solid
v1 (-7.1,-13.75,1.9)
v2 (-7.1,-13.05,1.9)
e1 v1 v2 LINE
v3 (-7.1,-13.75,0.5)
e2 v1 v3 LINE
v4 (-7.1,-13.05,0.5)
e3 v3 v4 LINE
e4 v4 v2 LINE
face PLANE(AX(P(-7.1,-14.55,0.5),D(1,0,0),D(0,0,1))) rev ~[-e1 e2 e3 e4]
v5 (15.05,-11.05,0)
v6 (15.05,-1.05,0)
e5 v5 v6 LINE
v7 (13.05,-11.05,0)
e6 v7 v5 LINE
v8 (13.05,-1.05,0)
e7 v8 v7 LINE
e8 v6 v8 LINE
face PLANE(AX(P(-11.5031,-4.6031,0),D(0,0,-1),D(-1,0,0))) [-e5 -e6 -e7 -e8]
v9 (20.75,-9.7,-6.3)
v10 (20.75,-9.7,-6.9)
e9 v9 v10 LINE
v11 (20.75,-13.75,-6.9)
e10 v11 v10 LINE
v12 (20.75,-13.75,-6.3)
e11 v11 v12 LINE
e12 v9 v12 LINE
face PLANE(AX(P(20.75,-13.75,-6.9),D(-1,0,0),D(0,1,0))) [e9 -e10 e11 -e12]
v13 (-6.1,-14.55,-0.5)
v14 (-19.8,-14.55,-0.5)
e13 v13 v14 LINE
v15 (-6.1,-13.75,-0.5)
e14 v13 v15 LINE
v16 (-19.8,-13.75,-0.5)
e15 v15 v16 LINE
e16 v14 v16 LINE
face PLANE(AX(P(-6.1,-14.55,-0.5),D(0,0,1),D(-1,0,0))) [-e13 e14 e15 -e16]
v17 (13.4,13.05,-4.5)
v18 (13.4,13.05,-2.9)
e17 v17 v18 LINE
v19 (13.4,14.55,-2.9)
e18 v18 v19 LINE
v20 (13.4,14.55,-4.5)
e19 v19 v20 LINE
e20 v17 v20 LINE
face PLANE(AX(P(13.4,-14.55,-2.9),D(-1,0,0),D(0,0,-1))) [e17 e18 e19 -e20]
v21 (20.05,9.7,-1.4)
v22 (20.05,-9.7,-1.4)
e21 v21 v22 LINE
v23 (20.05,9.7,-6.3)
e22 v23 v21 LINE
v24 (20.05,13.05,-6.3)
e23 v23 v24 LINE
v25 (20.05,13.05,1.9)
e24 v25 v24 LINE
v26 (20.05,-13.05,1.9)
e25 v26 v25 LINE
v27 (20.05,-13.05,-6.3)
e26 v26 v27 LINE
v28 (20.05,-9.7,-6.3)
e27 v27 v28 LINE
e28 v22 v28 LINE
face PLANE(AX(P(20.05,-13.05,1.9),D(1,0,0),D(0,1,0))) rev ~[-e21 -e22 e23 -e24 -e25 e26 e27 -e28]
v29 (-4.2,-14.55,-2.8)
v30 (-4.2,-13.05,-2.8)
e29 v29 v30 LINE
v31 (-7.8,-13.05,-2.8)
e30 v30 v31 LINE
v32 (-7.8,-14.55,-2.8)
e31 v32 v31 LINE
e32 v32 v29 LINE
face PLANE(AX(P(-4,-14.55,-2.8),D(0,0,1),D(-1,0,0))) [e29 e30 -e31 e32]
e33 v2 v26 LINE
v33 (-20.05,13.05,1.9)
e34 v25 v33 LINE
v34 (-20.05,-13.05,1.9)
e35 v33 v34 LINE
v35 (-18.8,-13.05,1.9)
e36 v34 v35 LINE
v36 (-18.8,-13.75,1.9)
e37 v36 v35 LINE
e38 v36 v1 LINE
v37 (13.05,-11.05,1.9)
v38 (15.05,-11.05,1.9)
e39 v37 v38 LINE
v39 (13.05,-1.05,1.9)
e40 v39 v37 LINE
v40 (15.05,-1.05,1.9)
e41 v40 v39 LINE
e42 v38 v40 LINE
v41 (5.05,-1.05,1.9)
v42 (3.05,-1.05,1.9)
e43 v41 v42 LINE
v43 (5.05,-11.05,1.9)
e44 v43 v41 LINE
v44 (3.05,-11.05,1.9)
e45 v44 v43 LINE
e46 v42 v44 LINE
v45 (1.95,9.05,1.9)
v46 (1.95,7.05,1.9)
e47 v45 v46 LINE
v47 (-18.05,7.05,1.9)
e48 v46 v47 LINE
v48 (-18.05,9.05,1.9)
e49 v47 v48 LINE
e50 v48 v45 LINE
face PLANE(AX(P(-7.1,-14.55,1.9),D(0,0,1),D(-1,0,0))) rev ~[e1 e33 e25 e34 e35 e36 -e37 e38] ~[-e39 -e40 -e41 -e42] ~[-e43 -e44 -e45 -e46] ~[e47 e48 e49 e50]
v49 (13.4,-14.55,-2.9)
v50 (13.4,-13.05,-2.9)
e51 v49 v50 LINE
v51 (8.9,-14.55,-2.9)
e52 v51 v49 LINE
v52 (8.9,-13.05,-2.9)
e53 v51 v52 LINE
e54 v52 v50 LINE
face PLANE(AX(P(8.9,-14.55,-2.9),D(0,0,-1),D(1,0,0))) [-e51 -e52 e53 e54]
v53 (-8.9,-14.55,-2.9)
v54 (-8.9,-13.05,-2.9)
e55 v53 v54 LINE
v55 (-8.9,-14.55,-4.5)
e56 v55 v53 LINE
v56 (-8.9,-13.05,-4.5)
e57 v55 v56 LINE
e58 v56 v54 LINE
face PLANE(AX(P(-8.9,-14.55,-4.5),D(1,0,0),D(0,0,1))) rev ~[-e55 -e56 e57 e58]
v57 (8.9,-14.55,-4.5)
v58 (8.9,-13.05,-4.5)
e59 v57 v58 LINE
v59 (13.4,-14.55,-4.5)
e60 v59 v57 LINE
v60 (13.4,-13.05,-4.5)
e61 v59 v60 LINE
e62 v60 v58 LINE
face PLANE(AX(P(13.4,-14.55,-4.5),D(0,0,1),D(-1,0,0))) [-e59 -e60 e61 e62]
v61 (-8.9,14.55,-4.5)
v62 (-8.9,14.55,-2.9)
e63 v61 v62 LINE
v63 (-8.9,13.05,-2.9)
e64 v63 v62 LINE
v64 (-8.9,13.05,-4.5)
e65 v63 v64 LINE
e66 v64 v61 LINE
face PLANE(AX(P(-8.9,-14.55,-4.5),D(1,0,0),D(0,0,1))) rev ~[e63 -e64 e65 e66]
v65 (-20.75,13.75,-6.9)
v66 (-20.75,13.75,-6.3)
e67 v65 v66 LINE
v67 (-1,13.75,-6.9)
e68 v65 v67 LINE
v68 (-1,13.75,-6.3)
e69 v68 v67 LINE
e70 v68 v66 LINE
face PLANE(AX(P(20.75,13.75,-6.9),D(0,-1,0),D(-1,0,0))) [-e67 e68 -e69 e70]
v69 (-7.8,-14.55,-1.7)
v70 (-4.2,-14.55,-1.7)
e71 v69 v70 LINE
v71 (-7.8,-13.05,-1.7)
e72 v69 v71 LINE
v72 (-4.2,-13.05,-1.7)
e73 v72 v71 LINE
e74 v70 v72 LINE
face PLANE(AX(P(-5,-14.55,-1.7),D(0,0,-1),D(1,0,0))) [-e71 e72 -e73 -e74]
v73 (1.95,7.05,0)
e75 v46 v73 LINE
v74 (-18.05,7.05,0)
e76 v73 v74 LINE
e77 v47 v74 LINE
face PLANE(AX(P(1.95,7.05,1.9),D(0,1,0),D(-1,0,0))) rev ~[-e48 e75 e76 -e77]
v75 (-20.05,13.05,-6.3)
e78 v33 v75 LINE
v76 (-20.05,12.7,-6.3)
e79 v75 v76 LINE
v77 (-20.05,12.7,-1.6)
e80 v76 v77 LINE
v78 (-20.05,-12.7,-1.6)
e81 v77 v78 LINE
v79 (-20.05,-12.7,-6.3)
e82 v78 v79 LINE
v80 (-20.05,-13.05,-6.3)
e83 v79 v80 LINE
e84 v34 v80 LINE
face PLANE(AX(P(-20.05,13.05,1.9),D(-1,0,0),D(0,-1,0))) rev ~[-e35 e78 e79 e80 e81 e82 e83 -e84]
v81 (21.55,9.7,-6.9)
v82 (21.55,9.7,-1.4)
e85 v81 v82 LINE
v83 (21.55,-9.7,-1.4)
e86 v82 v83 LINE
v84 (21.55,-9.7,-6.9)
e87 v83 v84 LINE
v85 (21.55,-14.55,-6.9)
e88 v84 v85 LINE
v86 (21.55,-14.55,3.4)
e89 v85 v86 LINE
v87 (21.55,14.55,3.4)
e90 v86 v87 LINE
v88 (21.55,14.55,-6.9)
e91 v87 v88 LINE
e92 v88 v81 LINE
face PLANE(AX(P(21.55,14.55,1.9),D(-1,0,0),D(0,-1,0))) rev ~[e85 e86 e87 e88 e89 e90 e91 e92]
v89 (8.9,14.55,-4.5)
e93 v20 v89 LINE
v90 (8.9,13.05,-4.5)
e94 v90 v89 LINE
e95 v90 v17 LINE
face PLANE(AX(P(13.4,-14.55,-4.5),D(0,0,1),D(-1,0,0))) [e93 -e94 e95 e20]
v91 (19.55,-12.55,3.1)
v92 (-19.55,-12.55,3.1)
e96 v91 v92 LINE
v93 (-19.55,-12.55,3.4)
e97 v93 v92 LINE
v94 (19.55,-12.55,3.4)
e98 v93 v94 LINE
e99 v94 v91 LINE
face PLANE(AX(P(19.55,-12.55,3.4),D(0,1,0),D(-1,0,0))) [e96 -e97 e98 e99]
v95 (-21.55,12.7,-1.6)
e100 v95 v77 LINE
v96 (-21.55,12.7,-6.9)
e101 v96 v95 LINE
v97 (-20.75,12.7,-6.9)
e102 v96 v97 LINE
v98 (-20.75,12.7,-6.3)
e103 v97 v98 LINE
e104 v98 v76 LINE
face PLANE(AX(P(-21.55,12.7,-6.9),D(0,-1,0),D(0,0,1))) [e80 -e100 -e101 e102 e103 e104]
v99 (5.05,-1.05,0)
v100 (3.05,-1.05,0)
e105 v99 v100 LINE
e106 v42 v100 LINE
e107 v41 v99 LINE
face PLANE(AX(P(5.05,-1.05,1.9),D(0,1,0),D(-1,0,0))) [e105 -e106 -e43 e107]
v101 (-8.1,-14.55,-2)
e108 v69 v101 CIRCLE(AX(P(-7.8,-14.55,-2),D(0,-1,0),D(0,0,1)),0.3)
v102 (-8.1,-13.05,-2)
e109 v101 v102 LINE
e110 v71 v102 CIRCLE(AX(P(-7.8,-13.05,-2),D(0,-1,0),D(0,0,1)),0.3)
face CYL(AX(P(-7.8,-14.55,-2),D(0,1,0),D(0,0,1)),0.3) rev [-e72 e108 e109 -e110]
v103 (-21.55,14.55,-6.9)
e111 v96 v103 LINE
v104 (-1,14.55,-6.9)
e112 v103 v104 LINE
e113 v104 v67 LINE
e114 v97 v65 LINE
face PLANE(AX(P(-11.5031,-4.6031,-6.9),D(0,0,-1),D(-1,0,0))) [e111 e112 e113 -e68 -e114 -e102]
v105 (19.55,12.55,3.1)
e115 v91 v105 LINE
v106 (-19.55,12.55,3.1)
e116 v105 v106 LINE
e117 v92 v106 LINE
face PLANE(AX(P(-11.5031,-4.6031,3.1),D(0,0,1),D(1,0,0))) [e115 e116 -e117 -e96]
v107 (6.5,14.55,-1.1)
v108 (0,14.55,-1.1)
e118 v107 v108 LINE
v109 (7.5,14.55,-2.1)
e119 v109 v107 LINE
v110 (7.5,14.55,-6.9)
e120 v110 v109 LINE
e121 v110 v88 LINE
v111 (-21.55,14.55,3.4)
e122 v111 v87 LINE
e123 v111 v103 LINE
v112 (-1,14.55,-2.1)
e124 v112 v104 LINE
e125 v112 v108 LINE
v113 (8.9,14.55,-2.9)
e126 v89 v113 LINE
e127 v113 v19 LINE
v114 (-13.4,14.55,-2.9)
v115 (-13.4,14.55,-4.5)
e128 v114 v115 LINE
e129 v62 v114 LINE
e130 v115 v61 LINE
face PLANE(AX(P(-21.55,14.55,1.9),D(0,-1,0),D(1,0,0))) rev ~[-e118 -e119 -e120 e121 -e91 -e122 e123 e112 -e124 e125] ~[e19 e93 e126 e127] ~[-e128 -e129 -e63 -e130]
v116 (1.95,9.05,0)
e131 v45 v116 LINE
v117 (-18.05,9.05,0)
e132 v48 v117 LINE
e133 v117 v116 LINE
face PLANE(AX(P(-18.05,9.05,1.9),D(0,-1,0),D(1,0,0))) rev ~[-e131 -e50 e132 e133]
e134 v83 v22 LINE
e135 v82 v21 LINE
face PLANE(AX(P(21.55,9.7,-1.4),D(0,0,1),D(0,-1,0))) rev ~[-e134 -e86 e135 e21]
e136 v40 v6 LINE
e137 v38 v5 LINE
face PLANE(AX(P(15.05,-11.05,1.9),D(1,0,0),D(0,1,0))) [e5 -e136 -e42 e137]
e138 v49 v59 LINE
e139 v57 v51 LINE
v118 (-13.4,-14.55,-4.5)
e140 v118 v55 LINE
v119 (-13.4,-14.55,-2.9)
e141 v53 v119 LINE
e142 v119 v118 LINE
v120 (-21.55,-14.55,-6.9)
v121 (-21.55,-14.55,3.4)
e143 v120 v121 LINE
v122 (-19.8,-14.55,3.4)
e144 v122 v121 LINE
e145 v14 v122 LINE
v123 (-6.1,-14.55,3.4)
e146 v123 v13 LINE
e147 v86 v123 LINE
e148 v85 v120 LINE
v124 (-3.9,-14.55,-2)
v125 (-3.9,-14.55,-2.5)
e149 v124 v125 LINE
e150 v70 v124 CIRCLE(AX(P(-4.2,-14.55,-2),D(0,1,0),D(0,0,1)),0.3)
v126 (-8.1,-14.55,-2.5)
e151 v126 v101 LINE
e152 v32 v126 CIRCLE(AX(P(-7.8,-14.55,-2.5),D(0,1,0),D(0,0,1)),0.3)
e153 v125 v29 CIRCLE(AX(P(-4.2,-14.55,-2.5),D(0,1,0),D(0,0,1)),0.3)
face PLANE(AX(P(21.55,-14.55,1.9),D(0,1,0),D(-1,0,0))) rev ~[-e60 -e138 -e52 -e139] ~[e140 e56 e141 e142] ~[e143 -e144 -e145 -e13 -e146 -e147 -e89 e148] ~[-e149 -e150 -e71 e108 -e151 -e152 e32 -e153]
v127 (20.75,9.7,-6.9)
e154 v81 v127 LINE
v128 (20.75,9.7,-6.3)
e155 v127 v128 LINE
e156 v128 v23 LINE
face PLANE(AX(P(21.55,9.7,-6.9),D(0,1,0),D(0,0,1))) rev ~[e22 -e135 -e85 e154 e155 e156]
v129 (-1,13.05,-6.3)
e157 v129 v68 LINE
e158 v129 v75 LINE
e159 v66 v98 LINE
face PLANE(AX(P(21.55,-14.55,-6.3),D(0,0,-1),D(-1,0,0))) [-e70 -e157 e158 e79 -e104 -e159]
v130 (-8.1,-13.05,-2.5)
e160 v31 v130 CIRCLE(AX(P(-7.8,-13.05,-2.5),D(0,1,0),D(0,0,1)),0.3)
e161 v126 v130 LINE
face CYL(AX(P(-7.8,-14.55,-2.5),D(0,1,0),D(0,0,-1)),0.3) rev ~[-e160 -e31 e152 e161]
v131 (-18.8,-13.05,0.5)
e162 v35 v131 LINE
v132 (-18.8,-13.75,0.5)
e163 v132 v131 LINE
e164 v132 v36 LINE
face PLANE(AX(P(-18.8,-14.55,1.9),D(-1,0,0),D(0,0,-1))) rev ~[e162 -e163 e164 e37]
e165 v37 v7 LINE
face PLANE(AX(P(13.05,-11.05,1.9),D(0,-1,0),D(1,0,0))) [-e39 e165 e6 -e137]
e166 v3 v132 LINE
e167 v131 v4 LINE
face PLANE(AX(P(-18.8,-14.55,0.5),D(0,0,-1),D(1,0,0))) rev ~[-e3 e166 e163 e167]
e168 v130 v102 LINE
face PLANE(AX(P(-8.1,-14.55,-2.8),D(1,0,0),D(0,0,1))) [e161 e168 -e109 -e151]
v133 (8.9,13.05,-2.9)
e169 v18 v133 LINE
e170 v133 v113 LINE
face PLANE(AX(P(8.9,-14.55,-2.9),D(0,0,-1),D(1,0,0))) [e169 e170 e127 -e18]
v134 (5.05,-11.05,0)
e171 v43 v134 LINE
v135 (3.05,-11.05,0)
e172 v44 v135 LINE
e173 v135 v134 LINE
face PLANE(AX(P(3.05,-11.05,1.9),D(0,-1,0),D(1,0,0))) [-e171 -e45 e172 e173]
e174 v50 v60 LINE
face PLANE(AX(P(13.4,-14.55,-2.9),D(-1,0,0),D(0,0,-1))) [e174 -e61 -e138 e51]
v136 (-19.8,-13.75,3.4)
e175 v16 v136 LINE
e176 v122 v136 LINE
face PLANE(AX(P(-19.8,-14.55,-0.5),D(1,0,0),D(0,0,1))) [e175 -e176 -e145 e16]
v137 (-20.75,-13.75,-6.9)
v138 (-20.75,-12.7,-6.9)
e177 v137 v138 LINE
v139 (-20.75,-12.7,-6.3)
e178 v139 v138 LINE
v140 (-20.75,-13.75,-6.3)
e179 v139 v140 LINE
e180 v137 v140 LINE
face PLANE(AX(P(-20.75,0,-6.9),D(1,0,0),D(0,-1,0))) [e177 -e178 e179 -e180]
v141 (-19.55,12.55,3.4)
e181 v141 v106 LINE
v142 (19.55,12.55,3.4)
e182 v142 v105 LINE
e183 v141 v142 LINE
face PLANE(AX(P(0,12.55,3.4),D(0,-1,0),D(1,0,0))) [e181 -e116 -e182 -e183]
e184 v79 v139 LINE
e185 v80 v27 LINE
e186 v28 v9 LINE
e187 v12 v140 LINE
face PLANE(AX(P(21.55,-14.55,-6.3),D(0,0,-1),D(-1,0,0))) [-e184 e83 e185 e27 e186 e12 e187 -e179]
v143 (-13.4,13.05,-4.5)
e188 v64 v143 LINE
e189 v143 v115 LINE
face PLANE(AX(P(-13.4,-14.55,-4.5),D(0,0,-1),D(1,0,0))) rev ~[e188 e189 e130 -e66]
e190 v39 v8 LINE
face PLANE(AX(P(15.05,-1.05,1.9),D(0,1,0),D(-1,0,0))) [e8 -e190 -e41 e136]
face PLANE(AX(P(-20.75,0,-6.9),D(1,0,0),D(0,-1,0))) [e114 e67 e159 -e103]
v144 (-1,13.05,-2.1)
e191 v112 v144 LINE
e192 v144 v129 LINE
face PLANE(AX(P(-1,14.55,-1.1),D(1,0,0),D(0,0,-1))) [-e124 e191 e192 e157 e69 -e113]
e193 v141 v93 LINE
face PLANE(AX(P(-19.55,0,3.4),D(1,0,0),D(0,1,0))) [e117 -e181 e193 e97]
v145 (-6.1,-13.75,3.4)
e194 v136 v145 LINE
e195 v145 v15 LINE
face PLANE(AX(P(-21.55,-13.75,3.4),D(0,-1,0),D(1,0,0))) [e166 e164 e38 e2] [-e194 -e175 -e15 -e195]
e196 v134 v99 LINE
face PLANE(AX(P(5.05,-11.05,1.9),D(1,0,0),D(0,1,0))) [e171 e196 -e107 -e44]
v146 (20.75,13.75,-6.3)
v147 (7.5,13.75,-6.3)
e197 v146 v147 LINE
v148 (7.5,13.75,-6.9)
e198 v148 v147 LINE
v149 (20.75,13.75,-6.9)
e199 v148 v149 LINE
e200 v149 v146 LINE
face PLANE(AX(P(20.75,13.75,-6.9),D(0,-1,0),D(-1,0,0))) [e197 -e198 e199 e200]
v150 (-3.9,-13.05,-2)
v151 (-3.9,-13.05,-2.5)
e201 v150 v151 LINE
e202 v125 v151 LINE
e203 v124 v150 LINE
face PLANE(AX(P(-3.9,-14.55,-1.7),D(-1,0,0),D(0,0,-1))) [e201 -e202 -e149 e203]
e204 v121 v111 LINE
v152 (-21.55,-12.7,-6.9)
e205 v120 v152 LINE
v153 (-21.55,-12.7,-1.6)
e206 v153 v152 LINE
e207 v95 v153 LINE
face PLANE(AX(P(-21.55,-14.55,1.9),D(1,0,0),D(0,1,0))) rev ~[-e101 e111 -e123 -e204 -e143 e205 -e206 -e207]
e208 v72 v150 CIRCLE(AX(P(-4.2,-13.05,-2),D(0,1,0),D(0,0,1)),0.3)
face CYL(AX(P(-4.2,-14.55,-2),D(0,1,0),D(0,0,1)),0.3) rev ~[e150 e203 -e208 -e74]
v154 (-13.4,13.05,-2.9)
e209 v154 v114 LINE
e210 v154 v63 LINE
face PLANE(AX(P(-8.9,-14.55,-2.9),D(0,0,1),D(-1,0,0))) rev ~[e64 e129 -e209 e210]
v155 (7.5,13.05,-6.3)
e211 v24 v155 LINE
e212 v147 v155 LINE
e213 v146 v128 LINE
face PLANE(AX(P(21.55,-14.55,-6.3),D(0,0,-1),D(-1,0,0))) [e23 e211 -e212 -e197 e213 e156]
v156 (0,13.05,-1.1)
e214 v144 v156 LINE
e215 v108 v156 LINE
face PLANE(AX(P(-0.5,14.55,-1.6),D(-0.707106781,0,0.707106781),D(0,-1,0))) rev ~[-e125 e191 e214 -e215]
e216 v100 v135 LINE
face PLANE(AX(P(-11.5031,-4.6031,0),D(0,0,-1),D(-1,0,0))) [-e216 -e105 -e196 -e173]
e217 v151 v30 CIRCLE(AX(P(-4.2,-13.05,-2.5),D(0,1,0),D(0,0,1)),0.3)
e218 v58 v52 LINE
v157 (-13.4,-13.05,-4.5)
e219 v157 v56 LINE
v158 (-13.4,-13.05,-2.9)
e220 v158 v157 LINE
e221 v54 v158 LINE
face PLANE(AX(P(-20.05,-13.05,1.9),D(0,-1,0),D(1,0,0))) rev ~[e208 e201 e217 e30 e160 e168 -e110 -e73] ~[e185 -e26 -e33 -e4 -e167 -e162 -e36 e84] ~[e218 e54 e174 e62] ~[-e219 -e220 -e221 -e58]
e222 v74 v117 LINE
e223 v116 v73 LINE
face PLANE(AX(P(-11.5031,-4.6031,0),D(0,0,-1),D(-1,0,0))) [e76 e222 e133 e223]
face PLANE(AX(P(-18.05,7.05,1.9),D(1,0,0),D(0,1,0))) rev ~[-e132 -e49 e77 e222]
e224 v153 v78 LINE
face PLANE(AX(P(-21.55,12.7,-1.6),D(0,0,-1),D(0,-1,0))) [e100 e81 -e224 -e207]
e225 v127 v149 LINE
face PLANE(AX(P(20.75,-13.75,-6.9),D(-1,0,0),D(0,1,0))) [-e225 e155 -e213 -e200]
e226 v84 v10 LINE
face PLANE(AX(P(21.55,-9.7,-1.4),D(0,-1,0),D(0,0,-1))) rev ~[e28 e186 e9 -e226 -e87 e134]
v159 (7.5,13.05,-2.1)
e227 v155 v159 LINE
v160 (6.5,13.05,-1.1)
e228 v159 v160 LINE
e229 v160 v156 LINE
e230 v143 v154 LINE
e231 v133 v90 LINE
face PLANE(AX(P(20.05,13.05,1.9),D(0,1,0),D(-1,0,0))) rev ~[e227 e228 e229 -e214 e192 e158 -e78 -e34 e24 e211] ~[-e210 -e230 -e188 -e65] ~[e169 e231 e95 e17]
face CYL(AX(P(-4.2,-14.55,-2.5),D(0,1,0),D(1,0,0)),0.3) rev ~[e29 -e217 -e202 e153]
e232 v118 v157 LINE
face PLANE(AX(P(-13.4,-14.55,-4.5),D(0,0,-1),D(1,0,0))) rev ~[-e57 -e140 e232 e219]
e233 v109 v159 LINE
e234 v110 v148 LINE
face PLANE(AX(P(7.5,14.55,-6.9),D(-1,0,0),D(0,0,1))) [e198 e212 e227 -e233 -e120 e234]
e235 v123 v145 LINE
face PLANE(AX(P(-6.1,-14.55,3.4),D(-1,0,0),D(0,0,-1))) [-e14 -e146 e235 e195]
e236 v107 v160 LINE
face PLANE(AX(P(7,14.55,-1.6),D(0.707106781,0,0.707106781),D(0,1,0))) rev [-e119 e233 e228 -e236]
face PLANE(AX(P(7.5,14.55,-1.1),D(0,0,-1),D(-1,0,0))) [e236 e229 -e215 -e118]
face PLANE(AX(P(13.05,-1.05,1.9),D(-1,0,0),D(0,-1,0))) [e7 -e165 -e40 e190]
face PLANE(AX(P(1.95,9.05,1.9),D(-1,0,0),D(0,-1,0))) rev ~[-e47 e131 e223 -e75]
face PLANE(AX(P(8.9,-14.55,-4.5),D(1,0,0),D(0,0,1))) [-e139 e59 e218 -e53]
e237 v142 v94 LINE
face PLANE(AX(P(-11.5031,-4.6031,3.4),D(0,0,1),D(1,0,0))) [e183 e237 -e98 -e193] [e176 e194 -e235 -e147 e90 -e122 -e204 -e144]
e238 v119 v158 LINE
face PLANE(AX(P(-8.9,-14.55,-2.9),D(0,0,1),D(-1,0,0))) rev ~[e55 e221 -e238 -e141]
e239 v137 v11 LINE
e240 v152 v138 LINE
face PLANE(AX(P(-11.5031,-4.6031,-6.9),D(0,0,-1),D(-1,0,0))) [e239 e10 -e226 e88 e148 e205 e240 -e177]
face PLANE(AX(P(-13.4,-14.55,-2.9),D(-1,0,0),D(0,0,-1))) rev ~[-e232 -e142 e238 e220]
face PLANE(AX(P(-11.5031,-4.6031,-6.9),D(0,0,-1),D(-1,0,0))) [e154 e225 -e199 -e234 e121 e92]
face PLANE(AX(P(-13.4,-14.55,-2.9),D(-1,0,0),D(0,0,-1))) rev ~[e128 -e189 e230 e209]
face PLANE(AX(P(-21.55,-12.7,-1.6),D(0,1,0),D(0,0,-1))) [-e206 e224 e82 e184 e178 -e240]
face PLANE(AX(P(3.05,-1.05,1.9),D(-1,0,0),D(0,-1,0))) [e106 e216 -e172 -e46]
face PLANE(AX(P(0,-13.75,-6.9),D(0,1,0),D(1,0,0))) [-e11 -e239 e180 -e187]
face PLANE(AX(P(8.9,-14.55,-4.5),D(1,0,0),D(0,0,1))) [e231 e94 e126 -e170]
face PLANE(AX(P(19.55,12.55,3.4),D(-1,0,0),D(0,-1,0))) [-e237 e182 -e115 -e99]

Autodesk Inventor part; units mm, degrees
ref_plane "YZ Plane" through (0, 0, 0) normal (1, 0, 0) x (0, 1, 0)
ref_plane "XZ Plane" through (0, 0, 0) normal (0, 1, 0) x (-1, 0, 0)
ref_plane "EbeneBoden" through (-11.5031, -4.6031, 1.9) normal (0, 0, 1) x (1, 0, 0)
ref_plane "EbeneWändeEnde" through (17.7, 4.9, -6.9) normal (0, 0, -1) x (-1, 0, 0)
sketch "SkizzeBoden" plane through (-11.5031, -4.6031, 1.9) normal (0, 0, 1) x (1, 0, 0)
  line L0 (-7.1969, 7.4031) -> (6.8031, 7.4031) projected
  line L1 (6.8031, 7.4031) -> (6.8031, -7.7969) projected
  line L2 (6.8031, -7.7969) -> (4.3031, -7.7969) projected
  line L3 (4.3031, -7.7969) -> (4.3031, -6.7969) projected
  line L4 (4.3031, -6.7969) -> (-7.1969, -6.7969) projected
  line L5 (-7.1969, -6.7969) -> (-7.1969, 7.4031) projected
  line L6 (31.5031, 17.6031) -> (-8.4969, 17.6031) projected
  line L7 (-8.4969, 17.6031) -> (-8.4969, -8.3969) projected
  line L8 (-8.4969, -8.3969) -> (31.5031, -8.3969) projected
  line L9 (31.5031, -8.3969) -> (31.5031, 17.6031) projected
  line L10 (-18.6669, 4.6031) -> (41.6731, 4.6031) projected
  line L11 (11.5031, -15.7669) -> (11.5031, 24.9731) projected
  line L12 (-10.0469, 19.1531) -> (33.0531, 19.1531)
  line L13 (33.0531, 19.1531) -> (33.0531, -9.9469)
  line L14 (33.0531, -9.9469) -> (-10.0469, -9.9469)
  line L15 (-10.0469, -9.9469) -> (-10.0469, 19.1531)
  point P0 (11.5031, 4.6031)
  dimension "d0" = 1.55
extrude "Boden" add sketch "SkizzeBoden" along normal blind 1.5
sketch "SkizzeWände" plane through (-11.5031, -4.6031, 1.9) normal (0, 0, -1) x (-1, 0, 0)
  line L0 (10.0469, 19.1531) -> (-33.0531, 19.1531) projected
  line L1 (-33.0531, 19.1531) -> (-33.0531, -9.9469) projected
  line L2 (-33.0531, -9.9469) -> (10.0469, -9.9469) projected
  line L3 (10.0469, -9.9469) -> (10.0469, 19.1531) projected
  line L4 (-31.5531, 17.6531) -> (8.5469, 17.6531)
  line L5 (8.5469, 17.6531) -> (8.5469, -8.4469)
  line L6 (8.5469, -8.4469) -> (-31.5531, -8.4469)
  line L7 (-31.5531, -8.4469) -> (-31.5531, 17.6531)
  point P0 (-11.5031, 4.6031)
  dimension "d3" = 1.5
extrude "Wände" add sketch "SkizzeWände" along normal up to surface (8.8 mm away)
sketch "SkizzeAuflage" plane through (-11.5031, -4.6031, 1.9) normal (0, 0, -1) x (-1, 0, 0)
  line L0 (8.5469, -8.4469) -> (8.5469, 17.6531) projected
  line L1 (-31.5531, -8.4469) -> (8.5469, -8.4469) projected
  line L2 (-31.5531, 17.6531) -> (-31.5531, -8.4469) projected
  line L3 (8.5469, 17.6531) -> (-31.5531, 17.6531) projected
  line L4 (10.0469, 19.1531) -> (10.0469, -9.9469) projected
  line L5 (-33.0531, 19.1531) -> (10.0469, 19.1531) projected
  line L6 (-33.0531, -9.9469) -> (-33.0531, 19.1531) projected
  line L7 (10.0469, -9.9469) -> (-33.0531, -9.9469) projected
  line L8 (-26.5531, 3.5531) -> (-24.5531, 3.5531)
  line L9 (-24.5531, 3.5531) -> (-24.5531, -6.4469)
  line L10 (-24.5531, -6.4469) -> (-26.5531, -6.4469)
  line L11 (-26.5531, -6.4469) -> (-26.5531, 3.5531)
  line L12 (-16.5531, 3.5531) -> (-14.5531, 3.5531)
  line L13 (-14.5531, 3.5531) -> (-14.5531, -6.4469)
  line L14 (-14.5531, -6.4469) -> (-16.5531, -6.4469)
  line L15 (-16.5531, -6.4469) -> (-16.5531, 3.5531)
  line L16 (6.5469, 13.6531) -> (-13.4531, 13.6531)
  line L17 (-13.4531, 13.6531) -> (-13.4531, 11.6531)
  line L18 (-13.4531, 11.6531) -> (6.5469, 11.6531)
  line L19 (6.5469, 11.6531) -> (6.5469, 13.6531)
  point P0 (-11.5031, 4.6031)
  dimension "d6" = 5
  dimension "d7" = 2
  dimension "d8" = 8
  dimension "d9" = 2
  dimension "d10" = 10
  dimension "d11" = 20
  dimension "d12" = 2
  dimension "d13" = 4
  dimension "d14" = 2
ref_plane "EbeneAuflage" through (-20, -13, 0) normal (0, 0, 1) x (1, 0, 0)
extrude "Auflage" add sketch "SkizzeAuflage" along normal up to surface (1.9 mm away) contours L8 L9 L10 L11 | L12 L13 L14 L15 | L19 L18 L17 L16
sketch "SkizzeSD" plane through (-21.55, -14.55, 3.4) normal (0, -1, 0) x (1, 0, 0)
  line L0 (43.1, 0) -> (43.1, -10.3) projected
  line L1 (3.05, -2.6) -> (14.15, -2.6) projected
  line L2 (14.15, -2.6) -> (14.15, -1.6) projected
  line L3 (14.15, -1.6) -> (3.05, -1.6) projected
  line L4 (3.05, -1.6) -> (3.05, -2.6) projected
  line L5 (41.6, -1.5) -> (1.5, -1.5) projected
  line L6 (14.45, -1.5) -> (2.75, -1.5)
  line L7 (2.75, -1.5) -> (2.75, -2.9)
  line L8 (2.75, -2.9) -> (14.45, -2.9)
  line L9 (14.45, -2.9) -> (14.45, -1.5)
  line L10 (8.6, -4) -> (8.6, -0.8838) construction
  point P0 (21.55, -3.4)
  point P1 (8.6, -2.6)
  dimension "d17" = 0.3
  dimension "d18" = 0.3
extrude "SD" cut sketch "SkizzeSD" against normal up to surface (1.5 mm away) contours L4 L3 L2 L1 | L9 L8 L7 L5
sketch "Skizze7" plane through (-21.55, -14.55, 3.4) normal (0, -1, 0) x (1, 0, 0)
  line L0 (14.45, -1.5) -> (14.45, -2.9) projected
  line L1 (14.45, -2.9) -> (2.75, -2.9) projected
  line L2 (0, 0) -> (43.1, 0) projected
  line L3 (15.45, -3.9) -> (1.75, -3.9)
  line L4 (1.75, -3.9) -> (1.75, 0)
  line L5 (1.75, 0) -> (15.45, 0)
  line L6 (15.45, 0) -> (15.45, -3.9)
  line L7 (8.6, -3.6567) -> (8.6, -1) construction
  point P0 (21.55, -3.4)
  point P1 (8.6, -2.9)
  dimension "d21" = 1
  dimension "d22" = 1
extrude "SDHilfe" cut sketch "Skizze7" against normal blind 0.8
sketch "SkizzeLED" plane through (-21.55, -14.55, -6.9) normal (0, -1, 0) x (1, 0, 0)
  line L0 (16.55, 5.2) -> (17.55, 5.2) projected
  line L1 (16.55, 5.2) -> (16.55, 4.1) projected
  line L2 (17.55, 4.1) -> (16.55, 4.1) projected
  line L3 (17.55, 5.2) -> (17.55, 4.1) projected
  line L4 (15.05, 5.2) -> (16.05, 5.2) projected
  line L5 (15.05, 5.2) -> (15.05, 4.1) projected
  line L6 (16.05, 4.1) -> (15.05, 4.1) projected
  line L7 (16.05, 5.2) -> (16.05, 4.1) projected
  line L8 (13.55, 5.2) -> (14.55, 5.2) projected
  line L9 (13.55, 5.2) -> (13.55, 4.1) projected
  line L10 (14.55, 4.1) -> (13.55, 4.1) projected
  line L11 (14.55, 5.2) -> (14.55, 4.1) projected
  line L12 (15.55, 3.5363) -> (15.55, 5.4531) construction
  line L13 (17.65, 4.1) -> (13.45, 4.1)
  line L14 (13.45, 4.1) -> (13.45, 5.2)
  line L15 (13.45, 5.2) -> (17.65, 5.2)
  line L16 (17.65, 5.2) -> (17.65, 4.1)
  line L17 (41.55, 5.2) -> (1.55, 5.2) projected
  point P0 (21.55, 6.9)
  point P1 (15.55, 4.1)
  dimension "d25" = 0.1
extrude "LED" cut sketch "SkizzeLED" against normal up to surface (1.5 mm away)
fillet "RundungLED" radius 0.3 4 edges at (-8.1, -13.8, -2.8) (-3.9, -13.8, -2.8) (-8.1, -13.8, -1.7) (-3.9, -13.8, -1.7)
sketch "SkizzeUSB" plane through (-21.55, 14.55, 3.4) normal (0, 1, 0) x (1, 0, 0)
  line L0 (43.1, 10.3) -> (0, 10.3) projected
  ellipse E0 centre (28.223, 7.641) end of major axis (28.5465, 8.1263) minor radius 0.5 (28.75, 7.72) -> (28.2975, 8.2) ccw projected
  line L1 (28.2975, 8.2) -> (21.3025, 8.2) projected
  ellipse E1 centre (21.377, 7.641) end of major axis (21.0535, 8.1263) minor radius 0.5 (21.3025, 8.2) -> (20.85, 7.72) ccw projected
  line L2 (20.85, 7.72) -> (20.85, 5.9068) projected
  line L3 (21.8935, 4.8) -> (20.85, 5.9068) projected
  line L4 (21.8935, 4.8) -> (27.7065, 4.8) projected
  line L5 (28.75, 5.9068) -> (27.7065, 4.8) projected
  line L6 (28.75, 5.9068) -> (28.75, 7.72) projected
  ellipse E2 centre (28.223, 7.641) end of major axis (28.5465, 8.1263) minor radius 0.5 (28.75, 7.72) -> (28.2975, 8.2) ccw projected
  line L7 (28.2975, 8.2) -> (21.3025, 8.2) projected
  ellipse E3 centre (21.377, 7.641) end of major axis (21.0535, 8.1263) minor radius 0.5 (21.3025, 8.2) -> (20.85, 7.72) ccw projected
  line L8 (20.85, 7.72) -> (20.85, 5.9068) projected
  line L9 (21.8935, 4.8) -> (20.85, 5.9068) projected
  line L10 (21.8935, 4.8) -> (27.7065, 4.8) projected
  line L11 (28.75, 5.9068) -> (27.7065, 4.8) projected
  line L12 (28.75, 5.9068) -> (28.75, 7.72) projected
  line L13 (20.55, 10.3) -> (29.05, 10.3)
  line L14 (29.05, 10.3) -> (29.05, 4.5)
  line L15 (29.05, 4.5) -> (20.55, 4.5)
  line L16 (20.55, 4.5) -> (20.55, 10.3)
  line L17 (24.8, 8.6856) -> (24.8, 4.4469) construction
  point P0 (21.55, 3.4)
  point P1 (24.8, 8.2)
  dimension "d29" = 0.3
  dimension "d30" = 0.3
extrude "USB" cut sketch "SkizzeUSB" against normal up to surface (1.5 mm away) contours L14 L15 L16 L0 | L6 L5 L4 L3 L2 E1 L1 E0
chamfer "FaseUSB" distance 1 angle 45 2 edges at (7.5, 13.8, -1.1) (-1, 13.8, -1.1)
sketch "Skizze10" plane through (-21.55, -14.55, 3.4) normal (-1, 0, 0) x (0, 0, 1)
  line L0 (-10.3, 29.1) -> (-10.3, 0) projected
  line L1 (-5.1, 26.95) -> (-5.1, 11.95) projected
  line L2 (-5.1, 26.95) -> (-8.8, 26.95) projected
  line L3 (-8.8, 11.95) -> (-8.8, 26.95) projected
  line L4 (-5.1, 11.95) -> (-8.8, 11.95) projected
  line L5 (-5.1, 11.15) -> (-5.1, 2.15) projected
  line L6 (-5.1, 11.15) -> (-8.8, 11.15) projected
  line L7 (-8.8, 2.15) -> (-8.8, 11.15) projected
  line L8 (-5.1, 2.15) -> (-8.8, 2.15) projected
  line L9 (-5, 1.85) -> (-10.3, 1.85)
  line L10 (-10.3, 1.85) -> (-10.3, 27.25)
  line L11 (-10.3, 27.25) -> (-5, 27.25)
  line L12 (-5, 27.25) -> (-5, 1.85)
  line L13 (0, 29.1) -> (0, 0) projected
  line L14 (-10.3, 29.1) -> (0, 29.1) projected
  line L15 (3, 14.55) -> (-13.529, 14.55) construction
  line L16 (-8.4, 2.55) -> (-8.4, 10.75) projected
  line L17 (-8.4, 10.75) -> (-5.5, 10.75) projected
  line L18 (-5.5, 10.75) -> (-5.5, 2.55) projected
  line L19 (-5.5, 2.55) -> (-8.4, 2.55) projected
  line L20 (-8.4, 12.35) -> (-8.4, 26.55) projected
  line L21 (-8.4, 26.55) -> (-5.5, 26.55) projected
  line L22 (-5.5, 26.55) -> (-5.5, 12.35) projected
  line L23 (-5.5, 12.35) -> (-8.4, 12.35) projected
  point P0 (-3.4, 14.55)
  point P1 (0, 14.55)
  dimension "d36" = 0.3
  dimension "d38" = 0.1
extrude "JSTFC" cut sketch "Skizze10" against normal up to surface (1.5 mm away) contours L11 L12 L9 L0 | L1 L4 L3 L2 | L5 L8 L7 L6 | L16 L17 L18 L19 | L20 L21 L22 L23
sketch "Skizze11" plane through (21.55, -14.55, 3.4) normal (1, 0, 0) x (0, 0, -1)
  line L0 (10.3, 0) -> (10.3, 29.1) projected
  line L1 (13.0125, 14.55) -> (-3.6442, 14.55) construction
  line L2 (5.1, 14.95) -> (5.1, 23.95) projected
  line L3 (5.1, 14.95) -> (8.8, 14.95) projected
  line L4 (8.8, 23.95) -> (8.8, 14.95) projected
  line L5 (5.1, 23.95) -> (8.8, 23.95) projected
  line L6 (5.1, 5.15) -> (5.1, 14.15) projected
  line L7 (5.1, 5.15) -> (8.8, 5.15) projected
  line L8 (8.8, 14.15) -> (8.8, 5.15) projected
  line L9 (5.1, 14.15) -> (8.8, 14.15) projected
  line L10 (10.3, 24.25) -> (4.8, 24.25)
  line L11 (4.8, 24.25) -> (4.8, 4.85)
  line L12 (4.8, 4.85) -> (10.3, 4.85)
  line L13 (10.3, 4.85) -> (10.3, 24.25)
  point P0 (3.4, 14.55)
  point P1 (10.3, 14.55)
  dimension "d41" = 0.3
  dimension "d42" = 0.3
extrude "JSTOSD" cut sketch "Skizze11" against normal up to surface (1.5 mm away) contours L12 L11 L10 L0 | L2 L5 L4 L3 | L6 L9 L8 L7
sketch "Skizze12" plane through (21.55, -14.55, -6.9) normal (0, 0, -1) x (-1, 0, 0)
  line L0 (0, 0) -> (0, 4.85) projected
  line L1 (43.1, 0) -> (0, 0) projected
  line L2 (21.55, -5.82) -> (21.55, 34.92) projected
  line L3 (51.72, 14.55) -> (-8.62, 14.55) projected
  line L4 (0.8, 28.3) -> (42.3, 28.3)
  line L5 (42.3, 28.3) -> (42.3, 0.8)
  line L6 (42.3, 0.8) -> (0.8, 0.8)
  line L7 (0.8, 0.8) -> (0.8, 28.3)
  point P0 (21.55, 14.55)
  dimension "d45" = 0.8
  dimension "d46" = 0.8
extrude "Lippe" cut sketch "Skizze12" against normal blind 0.6
sketch "SkizzeSchnapper" plane through (-21.55, -14.55, -6.9) normal (0, -1, 0) x (1, 0, 0)
  line L0 (36.15, 5.2) -> (41.55, 5.2) projected
  line L1 (36.15, 5.2) -> (36.15, 1.5) projected
  line L2 (42.35, 1.5) -> (36.15, 1.5) projected
  line L3 (42.35, 5.2) -> (42.35, 1.5) projected
  line L4 (41.55, 5.2) -> (42.35, 5.2) projected
  line L5 (0.75, 5.2) -> (1.55, 5.2) projected
  line L6 (0.75, 5.2) -> (0.75, 1.5) projected
  line L7 (6.95, 1.5) -> (0.75, 1.5) projected
  line L8 (6.95, 5.2) -> (6.95, 1.5) projected
  line L9 (1.55, 5.2) -> (6.95, 5.2) projected
  ellipse E0 centre (28.223, 2.659) end of major axis (28.5465, 2.1737) minor radius 0.5 (28.2975, 2.1) -> (28.75, 2.58) ccw projected
  line L10 (28.2975, 2.1) -> (21.3025, 2.1) projected
  ellipse E1 centre (21.377, 2.659) end of major axis (21.0535, 2.1737) minor radius 0.5 (20.85, 2.58) -> (21.3025, 2.1) ccw projected
  line L11 (20.85, 2.58) -> (20.85, 4.3932) projected
  line L12 (21.8935, 5.5) -> (20.85, 4.3932) projected
  line L13 (21.8935, 5.5) -> (27.7065, 5.5) projected
  line L14 (28.75, 4.3932) -> (27.7065, 5.5) projected
  line L15 (28.75, 4.3932) -> (28.75, 2.58) projected
  line L16 (34.95, 2.4) -> (30.45, 2.4)
  line L17 (30.45, 2.4) -> (30.45, 4)
  line L18 (30.45, 4) -> (34.95, 4)
  line L19 (34.95, 4) -> (34.95, 2.4)
  line L20 (21.55, -2.06) -> (21.55, 12.36) projected
  line L21 (1.5, 0.6) -> (0.8, 0.6) projected
  line L22 (41.6, 0.6) -> (1.5, 0.6) projected
  line L23 (42.3, 0.6) -> (41.6, 0.6) projected
  line L24 (0.8, 0.6) -> (42.3, 0.6) projected
  line L25 (41.55, 5.2) -> (1.55, 5.2) projected
  line L26 (8.15, 2.4) -> (12.65, 2.4)
  line L27 (12.65, 2.4) -> (12.65, 4)
  line L28 (12.65, 4) -> (8.15, 4)
  line L29 (8.15, 4) -> (8.15, 2.4)
  point P0 (21.55, 6.9)
  dimension "d49" = 4.5
  dimension "d50" = 1.8
  dimension "d51" = 1.2
  dimension "d52" = 1.6
  dimension "d53" = 1.2
extrude "Schnapper" cut sketch "SkizzeSchnapper" against normal up to surface (29.1 mm away) contours L16 L17 L18 L19 | L29 L28 L27 L26
sketch "SkizzeAufkleber" plane through (-11.5031, -4.6031, 3.4) normal (0, 0, 1) x (1, 0, 0)
  line L0 (33.0531, 19.1531) -> (-10.0469, 19.1531) projected
  line L1 (-10.0469, 19.1531) -> (-10.0469, -9.9469) projected
  line L2 (11.5031, -15.7669) -> (11.5031, 24.9731) projected
  line L3 (-18.6669, 4.6031) -> (41.6731, 4.6031) projected
  line L4 (-8.0469, 17.1531) -> (31.0531, 17.1531)
  line L5 (31.0531, 17.1531) -> (31.0531, -7.9469)
  line L6 (31.0531, -7.9469) -> (-8.0469, -7.9469)
  line L7 (-8.0469, -7.9469) -> (-8.0469, 17.1531)
  point P0 (11.5031, 4.6031)
  dimension "d56" = 2
  dimension "d57" = 2
extrude "Aufkleber" cut sketch "SkizzeAufkleber" against normal blind 0.3 contours L4 L5 L3 L2 | L2 L3 L7 L4 | L3 L5 L6 L2 | L2 L6 L7 L3
properties part number "Boden"
